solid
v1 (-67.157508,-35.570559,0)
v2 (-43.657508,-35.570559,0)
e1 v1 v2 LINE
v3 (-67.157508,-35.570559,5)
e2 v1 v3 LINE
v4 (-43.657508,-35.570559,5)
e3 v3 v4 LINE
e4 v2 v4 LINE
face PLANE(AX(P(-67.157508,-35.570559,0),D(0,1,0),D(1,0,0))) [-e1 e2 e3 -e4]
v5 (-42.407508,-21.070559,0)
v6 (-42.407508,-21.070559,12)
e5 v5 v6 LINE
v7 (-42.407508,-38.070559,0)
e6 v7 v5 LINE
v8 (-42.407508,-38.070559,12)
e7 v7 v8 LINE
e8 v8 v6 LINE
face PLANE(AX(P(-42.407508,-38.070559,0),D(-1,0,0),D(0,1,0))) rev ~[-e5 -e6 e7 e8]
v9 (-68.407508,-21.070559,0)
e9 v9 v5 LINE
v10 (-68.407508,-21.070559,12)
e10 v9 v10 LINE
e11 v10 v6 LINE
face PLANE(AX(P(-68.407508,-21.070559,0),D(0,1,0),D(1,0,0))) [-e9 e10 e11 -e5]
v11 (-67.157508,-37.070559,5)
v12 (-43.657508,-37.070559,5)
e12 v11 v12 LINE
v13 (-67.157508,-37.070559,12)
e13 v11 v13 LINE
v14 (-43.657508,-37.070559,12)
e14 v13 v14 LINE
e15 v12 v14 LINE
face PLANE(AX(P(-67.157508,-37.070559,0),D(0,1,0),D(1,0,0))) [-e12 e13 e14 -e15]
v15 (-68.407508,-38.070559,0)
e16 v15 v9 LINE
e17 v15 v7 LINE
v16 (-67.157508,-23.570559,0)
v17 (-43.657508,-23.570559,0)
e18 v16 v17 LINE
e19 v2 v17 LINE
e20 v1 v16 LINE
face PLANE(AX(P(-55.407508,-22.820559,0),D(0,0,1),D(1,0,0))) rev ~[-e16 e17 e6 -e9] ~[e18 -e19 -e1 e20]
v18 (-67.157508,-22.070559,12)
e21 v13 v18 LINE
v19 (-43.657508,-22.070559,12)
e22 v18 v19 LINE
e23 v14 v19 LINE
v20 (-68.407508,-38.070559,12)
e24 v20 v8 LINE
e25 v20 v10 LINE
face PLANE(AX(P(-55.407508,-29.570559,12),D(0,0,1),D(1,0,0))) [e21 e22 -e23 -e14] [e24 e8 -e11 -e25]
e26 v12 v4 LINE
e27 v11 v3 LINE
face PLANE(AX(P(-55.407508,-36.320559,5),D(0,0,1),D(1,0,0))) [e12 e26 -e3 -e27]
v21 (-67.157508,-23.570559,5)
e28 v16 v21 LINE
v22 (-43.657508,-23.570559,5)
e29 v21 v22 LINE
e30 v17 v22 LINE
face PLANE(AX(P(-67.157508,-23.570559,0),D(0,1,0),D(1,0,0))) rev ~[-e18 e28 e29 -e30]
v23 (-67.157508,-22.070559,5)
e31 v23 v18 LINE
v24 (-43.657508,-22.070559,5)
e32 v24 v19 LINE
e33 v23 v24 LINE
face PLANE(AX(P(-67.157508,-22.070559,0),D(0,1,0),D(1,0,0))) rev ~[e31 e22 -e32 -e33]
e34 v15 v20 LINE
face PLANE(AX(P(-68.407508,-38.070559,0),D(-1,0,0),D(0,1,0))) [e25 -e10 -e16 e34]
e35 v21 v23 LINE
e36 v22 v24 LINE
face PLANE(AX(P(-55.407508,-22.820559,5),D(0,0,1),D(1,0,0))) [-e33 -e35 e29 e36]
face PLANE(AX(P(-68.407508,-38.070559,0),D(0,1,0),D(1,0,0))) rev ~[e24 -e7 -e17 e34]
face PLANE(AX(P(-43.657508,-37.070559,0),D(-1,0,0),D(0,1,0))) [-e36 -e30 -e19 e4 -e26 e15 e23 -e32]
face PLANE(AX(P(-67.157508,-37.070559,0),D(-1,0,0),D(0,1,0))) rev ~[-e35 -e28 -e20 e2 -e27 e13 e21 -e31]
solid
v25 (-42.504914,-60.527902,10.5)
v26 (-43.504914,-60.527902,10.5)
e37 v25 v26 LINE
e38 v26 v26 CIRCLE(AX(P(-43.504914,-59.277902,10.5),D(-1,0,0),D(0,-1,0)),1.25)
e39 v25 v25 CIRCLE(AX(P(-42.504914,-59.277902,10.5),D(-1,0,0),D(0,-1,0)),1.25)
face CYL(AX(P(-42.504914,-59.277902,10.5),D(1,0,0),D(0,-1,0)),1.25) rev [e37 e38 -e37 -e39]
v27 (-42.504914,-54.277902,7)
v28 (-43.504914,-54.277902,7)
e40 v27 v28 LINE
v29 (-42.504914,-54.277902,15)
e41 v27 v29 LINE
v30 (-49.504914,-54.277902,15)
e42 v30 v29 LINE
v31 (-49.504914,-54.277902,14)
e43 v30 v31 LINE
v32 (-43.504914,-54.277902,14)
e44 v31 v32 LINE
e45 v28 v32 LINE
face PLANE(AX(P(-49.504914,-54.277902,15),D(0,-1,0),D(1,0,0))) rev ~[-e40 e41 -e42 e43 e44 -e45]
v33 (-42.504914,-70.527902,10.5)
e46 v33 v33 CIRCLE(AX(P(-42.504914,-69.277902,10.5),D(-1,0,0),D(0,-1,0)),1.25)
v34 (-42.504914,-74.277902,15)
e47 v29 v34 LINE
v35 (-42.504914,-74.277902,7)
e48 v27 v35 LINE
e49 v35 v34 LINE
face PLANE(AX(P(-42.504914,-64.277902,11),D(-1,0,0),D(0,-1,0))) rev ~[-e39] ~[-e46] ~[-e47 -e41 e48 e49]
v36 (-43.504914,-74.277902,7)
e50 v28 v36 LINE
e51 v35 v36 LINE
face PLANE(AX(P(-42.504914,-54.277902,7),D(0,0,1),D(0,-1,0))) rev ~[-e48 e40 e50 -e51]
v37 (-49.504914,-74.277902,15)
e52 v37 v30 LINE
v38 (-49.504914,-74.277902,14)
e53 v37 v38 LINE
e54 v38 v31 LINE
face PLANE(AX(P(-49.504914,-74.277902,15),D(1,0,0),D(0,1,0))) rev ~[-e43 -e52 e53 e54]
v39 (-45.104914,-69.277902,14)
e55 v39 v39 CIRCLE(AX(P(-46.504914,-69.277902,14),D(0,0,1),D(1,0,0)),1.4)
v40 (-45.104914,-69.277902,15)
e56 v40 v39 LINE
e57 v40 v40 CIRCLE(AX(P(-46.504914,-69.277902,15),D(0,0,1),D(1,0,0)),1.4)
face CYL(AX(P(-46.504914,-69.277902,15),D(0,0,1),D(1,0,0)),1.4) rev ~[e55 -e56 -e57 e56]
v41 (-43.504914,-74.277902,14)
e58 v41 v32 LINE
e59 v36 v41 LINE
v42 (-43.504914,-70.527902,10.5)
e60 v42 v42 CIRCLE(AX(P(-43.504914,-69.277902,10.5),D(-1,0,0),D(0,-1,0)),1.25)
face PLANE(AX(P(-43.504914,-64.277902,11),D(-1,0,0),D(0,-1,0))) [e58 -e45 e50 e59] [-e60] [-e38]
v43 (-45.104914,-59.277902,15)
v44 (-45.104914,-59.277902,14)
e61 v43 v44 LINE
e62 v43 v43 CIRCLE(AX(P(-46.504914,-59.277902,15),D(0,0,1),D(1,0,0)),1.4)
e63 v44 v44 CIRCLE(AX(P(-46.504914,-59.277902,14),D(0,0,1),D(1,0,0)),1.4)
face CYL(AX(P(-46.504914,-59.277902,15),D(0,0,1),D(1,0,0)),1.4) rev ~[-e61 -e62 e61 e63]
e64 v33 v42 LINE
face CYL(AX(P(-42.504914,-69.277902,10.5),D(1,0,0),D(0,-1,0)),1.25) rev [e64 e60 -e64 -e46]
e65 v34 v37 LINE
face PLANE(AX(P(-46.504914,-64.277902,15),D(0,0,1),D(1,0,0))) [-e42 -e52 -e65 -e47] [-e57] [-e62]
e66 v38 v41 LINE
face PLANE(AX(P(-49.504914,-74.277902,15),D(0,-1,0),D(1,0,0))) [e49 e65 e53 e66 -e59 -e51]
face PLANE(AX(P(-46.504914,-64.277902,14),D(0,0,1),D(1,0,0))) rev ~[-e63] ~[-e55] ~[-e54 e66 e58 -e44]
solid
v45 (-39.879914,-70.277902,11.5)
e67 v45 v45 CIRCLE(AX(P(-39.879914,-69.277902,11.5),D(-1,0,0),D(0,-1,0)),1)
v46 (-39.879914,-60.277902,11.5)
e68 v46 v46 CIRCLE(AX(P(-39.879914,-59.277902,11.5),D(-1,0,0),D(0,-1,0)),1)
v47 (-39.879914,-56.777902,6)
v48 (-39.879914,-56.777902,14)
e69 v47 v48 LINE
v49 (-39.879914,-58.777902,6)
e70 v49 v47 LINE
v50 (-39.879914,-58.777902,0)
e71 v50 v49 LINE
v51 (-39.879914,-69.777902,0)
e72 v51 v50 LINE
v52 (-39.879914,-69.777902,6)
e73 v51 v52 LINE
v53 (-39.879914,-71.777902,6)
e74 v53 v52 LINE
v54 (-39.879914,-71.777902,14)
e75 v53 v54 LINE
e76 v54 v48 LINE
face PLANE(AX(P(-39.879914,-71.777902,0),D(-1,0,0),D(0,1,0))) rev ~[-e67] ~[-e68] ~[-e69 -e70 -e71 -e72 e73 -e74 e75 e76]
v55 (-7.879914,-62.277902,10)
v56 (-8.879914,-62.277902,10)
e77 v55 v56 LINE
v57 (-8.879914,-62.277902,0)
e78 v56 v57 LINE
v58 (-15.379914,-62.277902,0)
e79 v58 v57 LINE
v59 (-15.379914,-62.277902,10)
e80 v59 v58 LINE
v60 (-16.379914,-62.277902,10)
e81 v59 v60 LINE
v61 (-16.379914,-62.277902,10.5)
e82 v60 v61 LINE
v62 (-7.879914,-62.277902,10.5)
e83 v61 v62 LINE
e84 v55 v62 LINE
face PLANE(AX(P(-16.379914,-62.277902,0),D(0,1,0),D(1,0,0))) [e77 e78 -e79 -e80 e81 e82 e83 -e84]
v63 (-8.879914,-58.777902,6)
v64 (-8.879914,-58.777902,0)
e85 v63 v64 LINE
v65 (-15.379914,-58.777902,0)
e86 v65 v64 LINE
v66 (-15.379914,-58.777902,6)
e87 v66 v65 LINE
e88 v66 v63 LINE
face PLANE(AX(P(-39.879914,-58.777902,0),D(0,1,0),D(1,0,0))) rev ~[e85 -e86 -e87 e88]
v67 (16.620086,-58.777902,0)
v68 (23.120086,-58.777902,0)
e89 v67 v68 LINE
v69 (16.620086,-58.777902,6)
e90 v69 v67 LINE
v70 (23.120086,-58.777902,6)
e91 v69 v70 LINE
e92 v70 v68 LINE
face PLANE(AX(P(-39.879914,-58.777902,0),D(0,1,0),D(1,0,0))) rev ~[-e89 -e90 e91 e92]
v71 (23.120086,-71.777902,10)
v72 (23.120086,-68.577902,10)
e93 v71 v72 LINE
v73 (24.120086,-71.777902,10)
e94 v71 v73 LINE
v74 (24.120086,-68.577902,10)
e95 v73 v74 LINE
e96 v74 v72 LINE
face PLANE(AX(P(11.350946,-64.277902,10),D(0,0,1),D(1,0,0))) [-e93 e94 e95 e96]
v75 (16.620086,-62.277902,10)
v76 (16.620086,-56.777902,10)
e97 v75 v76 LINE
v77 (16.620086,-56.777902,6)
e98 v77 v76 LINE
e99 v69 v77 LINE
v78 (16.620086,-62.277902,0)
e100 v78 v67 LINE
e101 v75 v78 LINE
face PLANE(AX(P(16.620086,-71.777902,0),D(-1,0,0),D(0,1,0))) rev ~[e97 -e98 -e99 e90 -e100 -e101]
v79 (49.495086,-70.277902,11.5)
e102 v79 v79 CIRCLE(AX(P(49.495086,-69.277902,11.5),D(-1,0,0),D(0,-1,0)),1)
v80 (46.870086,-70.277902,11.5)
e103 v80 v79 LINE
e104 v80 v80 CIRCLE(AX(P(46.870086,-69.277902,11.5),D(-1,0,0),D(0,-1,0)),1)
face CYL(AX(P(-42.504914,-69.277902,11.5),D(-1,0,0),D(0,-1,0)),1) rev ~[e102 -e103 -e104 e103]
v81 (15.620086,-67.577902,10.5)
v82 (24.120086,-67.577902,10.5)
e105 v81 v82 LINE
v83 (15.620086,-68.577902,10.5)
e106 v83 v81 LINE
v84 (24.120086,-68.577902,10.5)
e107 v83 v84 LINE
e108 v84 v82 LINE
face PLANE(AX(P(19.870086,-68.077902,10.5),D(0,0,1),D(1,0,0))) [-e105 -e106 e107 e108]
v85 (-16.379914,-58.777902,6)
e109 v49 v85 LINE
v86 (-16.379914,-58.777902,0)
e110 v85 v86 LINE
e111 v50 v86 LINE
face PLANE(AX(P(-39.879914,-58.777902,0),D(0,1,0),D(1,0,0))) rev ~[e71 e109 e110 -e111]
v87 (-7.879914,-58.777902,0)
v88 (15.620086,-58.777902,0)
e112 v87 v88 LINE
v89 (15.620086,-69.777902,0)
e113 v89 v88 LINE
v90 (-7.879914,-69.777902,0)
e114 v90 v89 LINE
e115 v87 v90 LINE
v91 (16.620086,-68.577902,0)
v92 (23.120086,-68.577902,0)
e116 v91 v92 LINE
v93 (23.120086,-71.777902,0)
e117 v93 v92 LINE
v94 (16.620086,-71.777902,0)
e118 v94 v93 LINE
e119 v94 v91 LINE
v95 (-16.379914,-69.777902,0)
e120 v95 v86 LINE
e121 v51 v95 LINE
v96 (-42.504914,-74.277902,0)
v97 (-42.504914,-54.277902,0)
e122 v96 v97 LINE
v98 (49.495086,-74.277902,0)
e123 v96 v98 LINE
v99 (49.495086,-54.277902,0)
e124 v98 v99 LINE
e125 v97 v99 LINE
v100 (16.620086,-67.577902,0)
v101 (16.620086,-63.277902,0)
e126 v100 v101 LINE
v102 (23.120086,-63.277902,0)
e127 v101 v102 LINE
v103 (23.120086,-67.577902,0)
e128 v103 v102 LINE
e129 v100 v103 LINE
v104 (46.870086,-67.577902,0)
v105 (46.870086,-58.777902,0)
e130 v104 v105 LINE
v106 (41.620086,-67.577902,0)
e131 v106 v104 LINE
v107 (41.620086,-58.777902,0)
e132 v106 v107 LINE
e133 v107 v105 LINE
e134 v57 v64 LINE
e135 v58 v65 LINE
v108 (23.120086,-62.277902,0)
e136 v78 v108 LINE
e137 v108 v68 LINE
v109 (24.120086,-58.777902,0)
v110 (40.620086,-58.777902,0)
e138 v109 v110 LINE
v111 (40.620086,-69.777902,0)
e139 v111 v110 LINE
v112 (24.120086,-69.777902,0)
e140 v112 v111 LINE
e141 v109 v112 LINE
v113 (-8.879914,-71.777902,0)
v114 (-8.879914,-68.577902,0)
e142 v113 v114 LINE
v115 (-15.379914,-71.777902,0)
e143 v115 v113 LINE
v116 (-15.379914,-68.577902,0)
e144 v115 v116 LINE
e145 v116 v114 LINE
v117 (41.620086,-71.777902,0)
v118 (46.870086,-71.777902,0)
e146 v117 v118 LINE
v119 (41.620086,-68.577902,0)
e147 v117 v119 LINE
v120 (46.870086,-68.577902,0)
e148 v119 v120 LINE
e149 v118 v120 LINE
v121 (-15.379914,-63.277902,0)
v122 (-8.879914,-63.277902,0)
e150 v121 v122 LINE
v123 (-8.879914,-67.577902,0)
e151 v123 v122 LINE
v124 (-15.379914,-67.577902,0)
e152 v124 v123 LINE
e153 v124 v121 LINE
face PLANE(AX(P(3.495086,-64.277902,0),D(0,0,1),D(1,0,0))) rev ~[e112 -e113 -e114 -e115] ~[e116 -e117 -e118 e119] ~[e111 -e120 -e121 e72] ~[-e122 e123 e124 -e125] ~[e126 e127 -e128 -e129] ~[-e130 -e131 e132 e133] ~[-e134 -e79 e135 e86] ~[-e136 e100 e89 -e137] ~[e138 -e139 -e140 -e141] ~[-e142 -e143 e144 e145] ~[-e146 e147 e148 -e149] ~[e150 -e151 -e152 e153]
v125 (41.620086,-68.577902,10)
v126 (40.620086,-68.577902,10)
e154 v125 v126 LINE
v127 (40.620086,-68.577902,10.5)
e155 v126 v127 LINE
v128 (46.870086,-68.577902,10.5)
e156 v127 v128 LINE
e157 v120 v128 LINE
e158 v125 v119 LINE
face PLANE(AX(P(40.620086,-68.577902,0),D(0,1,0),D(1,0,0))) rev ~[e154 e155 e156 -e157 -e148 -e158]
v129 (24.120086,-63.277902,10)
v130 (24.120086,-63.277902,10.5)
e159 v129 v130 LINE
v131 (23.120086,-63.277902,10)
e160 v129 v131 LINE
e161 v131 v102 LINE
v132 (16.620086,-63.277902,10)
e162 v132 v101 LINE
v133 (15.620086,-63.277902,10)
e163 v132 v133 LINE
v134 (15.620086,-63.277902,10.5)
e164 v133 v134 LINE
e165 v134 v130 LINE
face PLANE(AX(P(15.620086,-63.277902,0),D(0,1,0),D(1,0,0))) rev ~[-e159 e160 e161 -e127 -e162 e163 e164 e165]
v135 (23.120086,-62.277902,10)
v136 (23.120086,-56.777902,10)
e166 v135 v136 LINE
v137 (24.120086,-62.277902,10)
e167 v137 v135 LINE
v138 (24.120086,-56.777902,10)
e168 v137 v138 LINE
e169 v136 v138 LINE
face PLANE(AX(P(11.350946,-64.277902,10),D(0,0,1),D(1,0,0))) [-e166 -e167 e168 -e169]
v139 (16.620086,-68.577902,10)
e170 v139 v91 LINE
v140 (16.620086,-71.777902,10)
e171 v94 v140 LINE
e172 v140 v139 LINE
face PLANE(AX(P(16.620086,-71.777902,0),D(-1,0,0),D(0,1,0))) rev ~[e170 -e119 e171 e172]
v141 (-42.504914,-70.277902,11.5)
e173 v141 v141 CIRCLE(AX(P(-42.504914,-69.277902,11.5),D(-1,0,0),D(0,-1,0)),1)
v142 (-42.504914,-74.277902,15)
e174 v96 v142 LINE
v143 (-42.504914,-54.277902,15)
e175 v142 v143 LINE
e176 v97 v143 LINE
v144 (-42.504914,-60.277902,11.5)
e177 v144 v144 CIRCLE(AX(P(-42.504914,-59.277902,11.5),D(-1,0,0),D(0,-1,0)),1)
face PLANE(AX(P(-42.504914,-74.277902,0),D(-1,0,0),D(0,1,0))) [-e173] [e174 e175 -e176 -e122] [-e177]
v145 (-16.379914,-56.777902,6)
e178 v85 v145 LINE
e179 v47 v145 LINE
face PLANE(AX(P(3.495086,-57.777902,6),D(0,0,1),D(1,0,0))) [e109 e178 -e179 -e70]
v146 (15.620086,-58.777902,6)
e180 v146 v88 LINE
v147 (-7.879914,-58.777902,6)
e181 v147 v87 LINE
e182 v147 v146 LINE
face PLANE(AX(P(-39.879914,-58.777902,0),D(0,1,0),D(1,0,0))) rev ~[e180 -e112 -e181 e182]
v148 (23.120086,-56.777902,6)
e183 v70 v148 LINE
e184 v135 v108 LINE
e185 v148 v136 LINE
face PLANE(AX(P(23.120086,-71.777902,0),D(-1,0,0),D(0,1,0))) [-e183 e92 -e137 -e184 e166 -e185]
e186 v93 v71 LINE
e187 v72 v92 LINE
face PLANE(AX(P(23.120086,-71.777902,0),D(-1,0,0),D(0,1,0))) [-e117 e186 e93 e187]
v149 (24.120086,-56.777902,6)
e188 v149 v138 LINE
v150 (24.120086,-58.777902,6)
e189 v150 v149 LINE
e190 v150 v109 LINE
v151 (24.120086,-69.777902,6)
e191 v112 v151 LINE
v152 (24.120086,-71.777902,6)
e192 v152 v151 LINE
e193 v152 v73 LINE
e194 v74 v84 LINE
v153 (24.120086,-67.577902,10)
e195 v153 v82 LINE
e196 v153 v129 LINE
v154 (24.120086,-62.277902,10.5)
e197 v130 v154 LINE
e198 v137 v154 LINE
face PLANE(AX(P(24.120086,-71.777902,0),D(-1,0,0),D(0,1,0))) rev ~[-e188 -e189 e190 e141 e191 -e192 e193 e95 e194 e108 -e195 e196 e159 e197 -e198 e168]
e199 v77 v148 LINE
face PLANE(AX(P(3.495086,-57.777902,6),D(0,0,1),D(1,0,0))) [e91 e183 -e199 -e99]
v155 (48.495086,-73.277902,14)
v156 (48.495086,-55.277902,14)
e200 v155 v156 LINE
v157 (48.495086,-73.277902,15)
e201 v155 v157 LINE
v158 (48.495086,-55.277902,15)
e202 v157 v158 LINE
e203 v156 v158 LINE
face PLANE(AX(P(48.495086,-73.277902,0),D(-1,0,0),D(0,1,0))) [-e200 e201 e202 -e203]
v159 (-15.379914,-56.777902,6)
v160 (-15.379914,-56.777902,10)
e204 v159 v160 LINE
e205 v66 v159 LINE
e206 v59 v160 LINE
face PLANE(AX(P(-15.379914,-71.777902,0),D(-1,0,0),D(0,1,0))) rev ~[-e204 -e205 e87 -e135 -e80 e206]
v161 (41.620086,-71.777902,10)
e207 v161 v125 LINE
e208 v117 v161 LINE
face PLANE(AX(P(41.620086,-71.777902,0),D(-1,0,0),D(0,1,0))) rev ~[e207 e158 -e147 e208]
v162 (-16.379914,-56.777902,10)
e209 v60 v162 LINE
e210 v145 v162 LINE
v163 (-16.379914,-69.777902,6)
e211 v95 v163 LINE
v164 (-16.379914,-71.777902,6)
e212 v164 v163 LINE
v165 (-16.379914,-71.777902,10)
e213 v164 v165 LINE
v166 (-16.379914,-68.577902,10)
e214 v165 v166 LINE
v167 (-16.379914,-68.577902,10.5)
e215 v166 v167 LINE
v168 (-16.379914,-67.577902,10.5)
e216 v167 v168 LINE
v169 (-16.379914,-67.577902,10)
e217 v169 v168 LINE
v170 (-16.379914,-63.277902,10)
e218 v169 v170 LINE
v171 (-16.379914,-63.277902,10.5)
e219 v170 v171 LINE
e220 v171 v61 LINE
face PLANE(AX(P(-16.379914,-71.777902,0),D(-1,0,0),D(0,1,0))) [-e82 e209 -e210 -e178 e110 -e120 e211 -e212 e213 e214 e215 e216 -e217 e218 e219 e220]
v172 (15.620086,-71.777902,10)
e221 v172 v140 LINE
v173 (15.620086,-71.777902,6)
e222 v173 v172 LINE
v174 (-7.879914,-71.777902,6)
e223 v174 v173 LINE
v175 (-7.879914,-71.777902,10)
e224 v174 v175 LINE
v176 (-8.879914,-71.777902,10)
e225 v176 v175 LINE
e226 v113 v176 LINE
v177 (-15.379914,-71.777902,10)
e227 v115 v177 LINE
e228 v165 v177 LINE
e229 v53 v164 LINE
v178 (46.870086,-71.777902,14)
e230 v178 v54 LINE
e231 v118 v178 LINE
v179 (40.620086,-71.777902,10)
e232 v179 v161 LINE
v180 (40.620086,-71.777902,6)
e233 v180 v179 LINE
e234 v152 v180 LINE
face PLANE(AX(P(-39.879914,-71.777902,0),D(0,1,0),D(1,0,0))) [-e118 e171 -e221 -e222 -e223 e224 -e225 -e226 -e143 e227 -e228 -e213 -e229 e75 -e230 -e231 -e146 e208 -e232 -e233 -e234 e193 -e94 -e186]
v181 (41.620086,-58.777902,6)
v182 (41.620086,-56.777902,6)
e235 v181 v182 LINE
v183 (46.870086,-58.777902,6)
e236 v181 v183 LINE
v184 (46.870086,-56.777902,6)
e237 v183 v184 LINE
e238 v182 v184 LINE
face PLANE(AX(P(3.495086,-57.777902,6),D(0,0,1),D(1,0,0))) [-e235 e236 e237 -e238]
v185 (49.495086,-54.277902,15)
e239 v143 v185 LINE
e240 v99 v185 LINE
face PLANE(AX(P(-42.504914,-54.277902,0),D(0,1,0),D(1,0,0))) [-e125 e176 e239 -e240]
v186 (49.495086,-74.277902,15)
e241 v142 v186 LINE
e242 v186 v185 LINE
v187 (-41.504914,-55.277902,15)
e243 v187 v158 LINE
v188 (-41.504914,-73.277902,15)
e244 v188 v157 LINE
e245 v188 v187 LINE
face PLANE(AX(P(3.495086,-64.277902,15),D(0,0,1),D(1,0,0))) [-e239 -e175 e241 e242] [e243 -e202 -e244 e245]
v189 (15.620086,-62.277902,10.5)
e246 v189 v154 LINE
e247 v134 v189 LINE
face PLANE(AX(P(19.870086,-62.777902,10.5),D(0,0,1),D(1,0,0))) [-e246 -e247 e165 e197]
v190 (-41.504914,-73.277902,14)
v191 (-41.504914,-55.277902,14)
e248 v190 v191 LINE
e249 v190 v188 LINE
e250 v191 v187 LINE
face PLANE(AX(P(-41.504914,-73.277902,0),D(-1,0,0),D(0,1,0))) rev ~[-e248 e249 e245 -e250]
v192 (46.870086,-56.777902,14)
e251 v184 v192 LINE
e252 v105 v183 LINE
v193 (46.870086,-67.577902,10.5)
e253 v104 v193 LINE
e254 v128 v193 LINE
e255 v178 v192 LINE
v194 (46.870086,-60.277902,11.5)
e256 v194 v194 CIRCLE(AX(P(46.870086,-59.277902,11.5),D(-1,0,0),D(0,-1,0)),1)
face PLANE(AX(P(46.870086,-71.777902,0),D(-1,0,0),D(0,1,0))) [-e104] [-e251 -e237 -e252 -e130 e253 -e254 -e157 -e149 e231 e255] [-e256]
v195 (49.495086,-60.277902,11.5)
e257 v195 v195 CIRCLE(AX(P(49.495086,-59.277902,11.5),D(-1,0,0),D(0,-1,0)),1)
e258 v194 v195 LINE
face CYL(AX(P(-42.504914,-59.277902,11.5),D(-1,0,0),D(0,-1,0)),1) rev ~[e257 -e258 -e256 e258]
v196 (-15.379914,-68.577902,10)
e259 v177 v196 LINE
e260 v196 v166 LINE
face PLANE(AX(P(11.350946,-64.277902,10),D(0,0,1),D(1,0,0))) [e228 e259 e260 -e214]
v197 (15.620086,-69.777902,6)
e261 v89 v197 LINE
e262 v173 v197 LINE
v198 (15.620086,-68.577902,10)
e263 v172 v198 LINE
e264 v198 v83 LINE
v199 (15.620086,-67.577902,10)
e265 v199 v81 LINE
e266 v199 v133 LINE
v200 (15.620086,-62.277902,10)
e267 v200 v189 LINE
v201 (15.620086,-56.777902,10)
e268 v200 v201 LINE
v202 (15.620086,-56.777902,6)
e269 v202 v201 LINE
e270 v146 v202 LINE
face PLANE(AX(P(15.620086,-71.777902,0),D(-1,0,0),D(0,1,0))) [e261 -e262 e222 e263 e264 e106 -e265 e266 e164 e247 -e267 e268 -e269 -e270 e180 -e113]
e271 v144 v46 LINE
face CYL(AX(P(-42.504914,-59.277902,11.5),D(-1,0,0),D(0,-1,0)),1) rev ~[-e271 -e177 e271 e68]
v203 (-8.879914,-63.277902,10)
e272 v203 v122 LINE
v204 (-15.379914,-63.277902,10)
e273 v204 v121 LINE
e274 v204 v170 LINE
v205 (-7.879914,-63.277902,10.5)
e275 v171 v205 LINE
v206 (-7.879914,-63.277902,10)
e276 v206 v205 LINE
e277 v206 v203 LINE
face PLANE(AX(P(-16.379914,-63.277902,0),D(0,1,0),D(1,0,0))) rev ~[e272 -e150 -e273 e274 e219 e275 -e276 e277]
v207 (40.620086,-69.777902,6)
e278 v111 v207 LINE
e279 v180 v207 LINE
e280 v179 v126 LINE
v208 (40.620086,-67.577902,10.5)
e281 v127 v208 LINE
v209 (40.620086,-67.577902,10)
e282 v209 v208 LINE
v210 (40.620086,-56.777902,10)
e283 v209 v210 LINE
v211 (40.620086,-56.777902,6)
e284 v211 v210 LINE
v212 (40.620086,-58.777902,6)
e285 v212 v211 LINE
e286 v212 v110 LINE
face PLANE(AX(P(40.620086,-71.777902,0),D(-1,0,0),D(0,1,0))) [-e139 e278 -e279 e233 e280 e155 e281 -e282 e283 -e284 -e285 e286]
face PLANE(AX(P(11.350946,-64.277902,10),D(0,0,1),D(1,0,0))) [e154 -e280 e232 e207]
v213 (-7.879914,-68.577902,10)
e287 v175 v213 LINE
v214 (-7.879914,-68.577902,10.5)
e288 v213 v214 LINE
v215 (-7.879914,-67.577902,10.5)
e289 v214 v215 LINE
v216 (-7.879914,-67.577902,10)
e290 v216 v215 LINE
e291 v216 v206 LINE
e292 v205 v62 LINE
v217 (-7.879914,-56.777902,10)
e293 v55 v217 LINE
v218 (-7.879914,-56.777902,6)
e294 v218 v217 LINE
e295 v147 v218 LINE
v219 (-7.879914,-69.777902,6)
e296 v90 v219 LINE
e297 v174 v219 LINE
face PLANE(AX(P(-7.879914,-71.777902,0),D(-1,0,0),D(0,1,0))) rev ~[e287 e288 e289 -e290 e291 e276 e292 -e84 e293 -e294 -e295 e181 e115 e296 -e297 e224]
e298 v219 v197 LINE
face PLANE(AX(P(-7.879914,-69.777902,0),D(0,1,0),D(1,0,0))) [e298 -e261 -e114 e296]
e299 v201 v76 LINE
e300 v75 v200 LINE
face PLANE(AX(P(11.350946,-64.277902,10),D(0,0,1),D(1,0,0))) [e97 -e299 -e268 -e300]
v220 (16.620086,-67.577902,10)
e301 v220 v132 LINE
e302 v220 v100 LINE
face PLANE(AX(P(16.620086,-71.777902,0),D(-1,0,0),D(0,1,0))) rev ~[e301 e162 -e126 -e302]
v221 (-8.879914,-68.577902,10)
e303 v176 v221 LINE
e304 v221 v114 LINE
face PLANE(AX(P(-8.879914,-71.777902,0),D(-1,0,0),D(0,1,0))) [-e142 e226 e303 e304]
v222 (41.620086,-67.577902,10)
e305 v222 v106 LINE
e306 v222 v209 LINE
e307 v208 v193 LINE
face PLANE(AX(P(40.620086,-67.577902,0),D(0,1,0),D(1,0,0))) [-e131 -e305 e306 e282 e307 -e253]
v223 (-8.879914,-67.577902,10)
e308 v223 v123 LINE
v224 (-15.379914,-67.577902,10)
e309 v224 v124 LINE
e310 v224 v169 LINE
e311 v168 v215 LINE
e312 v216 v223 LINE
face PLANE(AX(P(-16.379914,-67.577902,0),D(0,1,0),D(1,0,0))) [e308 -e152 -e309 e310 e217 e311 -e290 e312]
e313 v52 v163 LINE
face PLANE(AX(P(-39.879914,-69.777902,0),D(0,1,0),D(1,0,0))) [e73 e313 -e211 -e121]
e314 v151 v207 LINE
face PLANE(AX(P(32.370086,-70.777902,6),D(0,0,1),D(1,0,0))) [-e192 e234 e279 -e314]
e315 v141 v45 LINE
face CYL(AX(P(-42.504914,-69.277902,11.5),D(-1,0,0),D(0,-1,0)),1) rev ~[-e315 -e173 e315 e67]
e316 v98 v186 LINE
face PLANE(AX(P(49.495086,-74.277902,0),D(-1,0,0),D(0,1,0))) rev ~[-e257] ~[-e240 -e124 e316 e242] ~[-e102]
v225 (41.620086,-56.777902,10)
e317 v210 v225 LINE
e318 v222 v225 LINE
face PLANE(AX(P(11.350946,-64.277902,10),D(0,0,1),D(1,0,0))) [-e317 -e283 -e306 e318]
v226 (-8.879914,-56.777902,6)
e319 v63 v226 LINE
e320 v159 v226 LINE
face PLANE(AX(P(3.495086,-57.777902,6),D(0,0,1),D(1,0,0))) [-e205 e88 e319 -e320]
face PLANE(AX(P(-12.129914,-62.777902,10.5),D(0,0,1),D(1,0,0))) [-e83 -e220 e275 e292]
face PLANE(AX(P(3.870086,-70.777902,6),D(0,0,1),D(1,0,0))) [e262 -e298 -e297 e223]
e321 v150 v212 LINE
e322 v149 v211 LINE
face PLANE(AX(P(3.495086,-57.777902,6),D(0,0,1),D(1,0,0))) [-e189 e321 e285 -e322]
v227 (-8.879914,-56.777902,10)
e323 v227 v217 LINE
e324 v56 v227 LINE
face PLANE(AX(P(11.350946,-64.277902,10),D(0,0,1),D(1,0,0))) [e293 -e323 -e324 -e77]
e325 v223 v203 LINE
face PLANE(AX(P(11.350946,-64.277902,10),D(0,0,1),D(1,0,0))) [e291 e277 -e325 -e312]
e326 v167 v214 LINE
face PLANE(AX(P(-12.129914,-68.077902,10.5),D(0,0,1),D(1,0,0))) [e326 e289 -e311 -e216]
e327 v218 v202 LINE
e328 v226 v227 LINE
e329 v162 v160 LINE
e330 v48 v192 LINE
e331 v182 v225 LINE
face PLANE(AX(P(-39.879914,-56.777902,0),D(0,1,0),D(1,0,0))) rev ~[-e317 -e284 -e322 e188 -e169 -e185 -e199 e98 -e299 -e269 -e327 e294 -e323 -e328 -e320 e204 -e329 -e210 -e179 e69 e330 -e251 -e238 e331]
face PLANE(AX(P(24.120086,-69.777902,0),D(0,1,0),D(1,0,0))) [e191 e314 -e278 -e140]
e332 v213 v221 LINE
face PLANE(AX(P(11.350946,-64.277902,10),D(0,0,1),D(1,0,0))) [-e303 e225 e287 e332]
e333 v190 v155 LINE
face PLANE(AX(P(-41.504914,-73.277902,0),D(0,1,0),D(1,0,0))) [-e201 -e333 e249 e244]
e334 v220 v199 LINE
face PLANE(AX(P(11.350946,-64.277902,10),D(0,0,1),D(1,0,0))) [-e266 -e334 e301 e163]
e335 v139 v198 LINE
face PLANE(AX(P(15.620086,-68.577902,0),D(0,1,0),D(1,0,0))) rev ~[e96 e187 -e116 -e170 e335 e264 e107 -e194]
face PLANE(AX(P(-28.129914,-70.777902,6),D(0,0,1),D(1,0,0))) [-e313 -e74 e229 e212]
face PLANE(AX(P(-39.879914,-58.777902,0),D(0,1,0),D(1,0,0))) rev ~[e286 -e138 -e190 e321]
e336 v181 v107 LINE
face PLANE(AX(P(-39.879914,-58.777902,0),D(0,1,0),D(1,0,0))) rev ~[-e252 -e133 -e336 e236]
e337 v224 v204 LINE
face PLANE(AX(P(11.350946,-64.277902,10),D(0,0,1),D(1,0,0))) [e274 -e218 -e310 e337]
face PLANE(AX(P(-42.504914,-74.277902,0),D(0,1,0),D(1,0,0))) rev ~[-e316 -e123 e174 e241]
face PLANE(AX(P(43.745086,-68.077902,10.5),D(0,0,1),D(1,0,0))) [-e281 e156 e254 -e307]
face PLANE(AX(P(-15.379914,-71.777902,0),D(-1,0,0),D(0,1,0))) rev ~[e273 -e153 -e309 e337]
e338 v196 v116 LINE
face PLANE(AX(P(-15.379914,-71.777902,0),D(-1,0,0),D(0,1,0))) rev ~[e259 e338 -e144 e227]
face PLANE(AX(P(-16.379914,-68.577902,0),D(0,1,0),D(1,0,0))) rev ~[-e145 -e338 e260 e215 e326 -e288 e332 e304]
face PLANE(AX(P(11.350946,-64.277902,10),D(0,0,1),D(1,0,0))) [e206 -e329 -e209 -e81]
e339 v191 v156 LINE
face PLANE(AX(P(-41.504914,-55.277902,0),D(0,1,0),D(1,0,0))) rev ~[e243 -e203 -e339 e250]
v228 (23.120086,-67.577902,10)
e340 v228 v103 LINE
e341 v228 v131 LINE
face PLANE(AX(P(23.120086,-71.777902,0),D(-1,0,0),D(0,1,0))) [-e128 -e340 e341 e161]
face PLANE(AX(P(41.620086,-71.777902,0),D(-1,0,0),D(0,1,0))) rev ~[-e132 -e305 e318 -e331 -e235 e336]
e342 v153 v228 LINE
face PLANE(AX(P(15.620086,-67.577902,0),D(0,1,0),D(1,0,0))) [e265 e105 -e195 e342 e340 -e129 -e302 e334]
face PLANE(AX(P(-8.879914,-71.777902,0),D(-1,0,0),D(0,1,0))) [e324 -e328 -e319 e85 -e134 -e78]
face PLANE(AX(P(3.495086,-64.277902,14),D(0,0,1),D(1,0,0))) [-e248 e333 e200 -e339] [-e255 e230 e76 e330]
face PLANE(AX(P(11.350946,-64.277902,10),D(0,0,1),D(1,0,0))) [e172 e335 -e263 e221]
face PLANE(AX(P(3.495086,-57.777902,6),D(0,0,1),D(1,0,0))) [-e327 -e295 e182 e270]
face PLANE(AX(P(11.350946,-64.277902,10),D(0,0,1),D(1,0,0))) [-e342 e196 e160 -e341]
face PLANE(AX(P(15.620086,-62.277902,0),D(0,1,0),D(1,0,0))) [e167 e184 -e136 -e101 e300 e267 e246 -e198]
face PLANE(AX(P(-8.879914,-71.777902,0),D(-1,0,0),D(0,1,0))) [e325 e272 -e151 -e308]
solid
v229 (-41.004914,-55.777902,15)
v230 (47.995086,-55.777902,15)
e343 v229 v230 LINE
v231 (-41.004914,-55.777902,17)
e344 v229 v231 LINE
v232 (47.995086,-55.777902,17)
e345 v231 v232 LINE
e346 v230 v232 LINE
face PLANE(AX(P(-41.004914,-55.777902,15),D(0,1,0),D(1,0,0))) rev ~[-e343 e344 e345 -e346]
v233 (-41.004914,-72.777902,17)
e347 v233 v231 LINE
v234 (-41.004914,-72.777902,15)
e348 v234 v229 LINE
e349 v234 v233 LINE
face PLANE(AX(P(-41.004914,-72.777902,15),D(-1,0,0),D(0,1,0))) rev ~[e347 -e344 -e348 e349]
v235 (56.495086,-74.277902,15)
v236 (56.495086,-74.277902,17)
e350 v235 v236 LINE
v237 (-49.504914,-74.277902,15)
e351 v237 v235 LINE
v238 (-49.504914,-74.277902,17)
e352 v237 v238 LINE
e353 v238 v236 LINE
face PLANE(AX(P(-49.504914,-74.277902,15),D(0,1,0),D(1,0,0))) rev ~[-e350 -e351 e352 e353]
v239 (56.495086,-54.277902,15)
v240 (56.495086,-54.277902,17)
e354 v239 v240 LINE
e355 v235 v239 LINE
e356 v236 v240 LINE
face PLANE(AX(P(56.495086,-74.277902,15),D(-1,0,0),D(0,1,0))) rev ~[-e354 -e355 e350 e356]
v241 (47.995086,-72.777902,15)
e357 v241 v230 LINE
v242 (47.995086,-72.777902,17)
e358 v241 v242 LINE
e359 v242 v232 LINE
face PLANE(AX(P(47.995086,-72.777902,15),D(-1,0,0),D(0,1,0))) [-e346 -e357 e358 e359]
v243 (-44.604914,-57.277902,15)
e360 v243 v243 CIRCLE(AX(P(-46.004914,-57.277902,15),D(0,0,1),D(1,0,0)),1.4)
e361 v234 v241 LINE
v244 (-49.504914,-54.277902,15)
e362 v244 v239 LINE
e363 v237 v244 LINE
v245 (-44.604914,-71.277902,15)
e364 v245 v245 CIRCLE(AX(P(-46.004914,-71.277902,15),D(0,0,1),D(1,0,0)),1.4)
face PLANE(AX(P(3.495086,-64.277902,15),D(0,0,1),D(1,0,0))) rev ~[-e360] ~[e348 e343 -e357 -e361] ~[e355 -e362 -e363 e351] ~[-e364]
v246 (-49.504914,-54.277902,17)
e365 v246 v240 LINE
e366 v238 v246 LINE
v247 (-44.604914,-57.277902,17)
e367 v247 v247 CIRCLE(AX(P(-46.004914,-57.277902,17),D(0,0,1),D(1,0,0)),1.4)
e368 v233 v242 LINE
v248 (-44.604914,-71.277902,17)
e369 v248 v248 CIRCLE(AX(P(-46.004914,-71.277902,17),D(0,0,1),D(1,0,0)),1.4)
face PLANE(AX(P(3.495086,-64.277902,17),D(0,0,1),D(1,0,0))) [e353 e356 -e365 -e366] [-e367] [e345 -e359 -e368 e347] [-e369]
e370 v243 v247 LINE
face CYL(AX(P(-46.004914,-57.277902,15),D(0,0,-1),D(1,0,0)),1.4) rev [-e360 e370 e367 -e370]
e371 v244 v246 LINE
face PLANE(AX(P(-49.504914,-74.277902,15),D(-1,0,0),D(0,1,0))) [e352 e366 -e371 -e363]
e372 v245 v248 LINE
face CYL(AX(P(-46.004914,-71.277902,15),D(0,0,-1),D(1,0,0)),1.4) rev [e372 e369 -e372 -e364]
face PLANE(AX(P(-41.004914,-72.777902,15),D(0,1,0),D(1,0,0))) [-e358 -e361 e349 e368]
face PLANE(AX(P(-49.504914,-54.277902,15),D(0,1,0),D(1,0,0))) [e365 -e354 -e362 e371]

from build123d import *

# Parameters (mm, degrees)
F0_W      = 26
F0_H      = 17
F0_W_2    = 23.5
F0_H_2    = 15
F1_DEPTH  = 12
F2_W      = 23.5
F2_H      = 1.5
F3_DEPTH  = 5
F4_W      = 90
F4_H      = 18
F4_W_2    = 23.5
F4_H_2    = 15
F4_W_3    = 6.5
F4_W_4    = 16.5
F4_W_5    = 5.25
F5_DEPTH  = 14
F6_W      = 63.329597
F6_H      = 15
F7_DEPTH  = 4
F8_W      = 86.75
F8_H      = 2
F8_W_2    = 23.5
F8_W_3    = 16.5
F9_DEPTH  = 6
F10_W     = 8.5
F10_H     = 1
F10_W_2   = 6.25
F11_DEPTH = 10.5
F12_W     = 92
F12_H     = 20
F12_W_2   = 90
F12_H_2   = 18
F13_DEPTH = 15
F14_R     = 1
F15_DEPTH = 100.1
F16_W     = 20
F16_H     = 8
F16_R     = 1.25
F17_DEPTH = 1
F18_W     = 6
F18_H     = 20
F18_R     = 1.4
F19_DEPTH = 1
F20_W     = 106
F20_H     = 20
F20_R     = 1.4
F20_W_2   = 89
F20_H_2   = 17
F21_DEPTH = 2


with BuildPart() as f1:
    # F0 (on Top) → F1 (new body)
    with BuildSketch(Plane.XY):
        with Locations((-55.407508, -29.570559)):
            Rectangle(F0_W, F0_H)
        with Locations((-55.407508, -29.570559)):
            Rectangle(F0_W_2, F0_H_2, mode=Mode.SUBTRACT)
    extrude(amount=F1_DEPTH)

    # F2 (on Top) → F3 (join)
    with BuildSketch(Plane.XY):
        with Locations((-55.407508, -22.820559)):
            Rectangle(F2_W, F2_H)
        with Locations((-55.407508, -36.320559)):
            Rectangle(F2_W, F2_H)
    extrude(amount=F3_DEPTH)


with BuildPart() as f5:
    # F4 (on Top) → F5 (new body)
    with BuildSketch(Plane.XY):
        with Locations((3.495086, -64.277902)):
            Rectangle(F4_W, F4_H)
        with Locations((-28.129914, -64.277902)):
            Rectangle(F4_W_2, F4_H_2, mode=Mode.SUBTRACT)
        with Locations((-12.129914, -64.277902)):
            Rectangle(F4_W_3, F4_H_2, mode=Mode.SUBTRACT)
        with Locations((3.870086, -64.277902)):
            Rectangle(F4_W_2, F4_H_2, mode=Mode.SUBTRACT)
        with Locations((19.870086, -64.277902)):
            Rectangle(F4_W_3, F4_H_2, mode=Mode.SUBTRACT)
        with Locations((32.370086, -64.277902)):
            Rectangle(F4_W_4, F4_H_2, mode=Mode.SUBTRACT)
        with Locations((44.245086, -64.277902)):
            Rectangle(F4_W_5, F4_H_2, mode=Mode.SUBTRACT)
    extrude(amount=F5_DEPTH)

    # F6 (on face) → F7 (cut)
    with BuildSketch(Plane.XY.offset(14)):
        with Locations((11.350946, -64.277902)):
            Rectangle(F6_W, F6_H)
    extrude(amount=-F7_DEPTH, mode=Mode.SUBTRACT)

    # F8 (on Top) → F9 (join)
    with BuildSketch(Plane.XY):
        with Locations((3.495086, -57.777902)):
            Rectangle(F8_W, F8_H)
        with Locations((-28.129914, -70.777902)):
            Rectangle(F8_W_2, F8_H)
        with Locations((3.870086, -70.777902)):
            Rectangle(F8_W_2, F8_H)
        with Locations((32.370086, -70.777902)):
            Rectangle(F8_W_3, F8_H)
    extrude(amount=F9_DEPTH)

    # F10 (on Top) → F11 (join)
    with BuildSketch(Plane.XY):
        with Locations((-12.129914, -62.777902)):
            Rectangle(F10_W, F10_H)
        with Locations((19.870086, -62.777902)):
            Rectangle(F10_W, F10_H)
        with Locations((-12.129914, -68.077902)):
            Rectangle(F10_W, F10_H)
        with Locations((19.870086, -68.077902)):
            Rectangle(F10_W, F10_H)
        with Locations((43.745086, -68.077902)):
            Rectangle(F10_W_2, F10_H)
    extrude(amount=F11_DEPTH)

    # F12 (on Top) → F13 (join)
    with BuildSketch(Plane.XY):
        with Locations((3.495086, -64.277902)):
            Rectangle(F12_W, F12_H)
        with Locations((3.495086, -64.277902)):
            Rectangle(F12_W_2, F12_H_2, mode=Mode.SUBTRACT)
    extrude(amount=F13_DEPTH)

    # F14 (on face) → F15 (cut)
    with BuildSketch(Plane(origin=(-42.504914, 0, 0), x_dir=(0, -1, 0), z_dir=(-1, 0, 0))):
        with Locations((59.277902, 11.5)):
            Circle(F14_R)
        with Locations((69.277902, 11.5)):
            Circle(F14_R)
    extrude(amount=-F15_DEPTH, mode=Mode.SUBTRACT)


with BuildPart() as f17:
    # F16 (on face) → F17 (new body)
    with BuildSketch(Plane(origin=(-42.504914, 0, 0), x_dir=(0, -1, 0), z_dir=(-1, 0, 0))):
        with Locations((64.277902, 11)):
            Rectangle(F16_W, F16_H)
        with Locations((59.277902, 10.5)):
            Circle(F16_R, mode=Mode.SUBTRACT)
        with Locations((69.277902, 10.5)):
            Circle(F16_R, mode=Mode.SUBTRACT)
    extrude(amount=F17_DEPTH)

    # F18 (on face) → F19 (join)
    with BuildSketch(Plane.XY.offset(15)):
        with Locations((-46.504914, -64.277902)):
            Rectangle(F18_W, F18_H)
        with Locations((-46.504914, -69.277902)):
            Circle(F18_R, mode=Mode.SUBTRACT)
        with Locations((-46.504914, -59.277902)):
            Circle(F18_R, mode=Mode.SUBTRACT)
    extrude(amount=-F19_DEPTH)


with BuildPart() as f21:
    # F20 (on face) → F21 (new body)
    with BuildSketch(Plane.XY.offset(15)):
        with Locations((3.495086, -64.277902)):
            Rectangle(F20_W, F20_H)
        with Locations((-46.004914, -71.277902)):
            Circle(F20_R, mode=Mode.SUBTRACT)
        with Locations((-46.004914, -57.277902)):
            Circle(F20_R, mode=Mode.SUBTRACT)
        with Locations((3.495086, -64.277902)):
            Rectangle(F20_W_2, F20_H_2, mode=Mode.SUBTRACT)
    extrude(amount=F21_DEPTH)


solid = Compound([f1.part, f5.part, f17.part, f21.part])
